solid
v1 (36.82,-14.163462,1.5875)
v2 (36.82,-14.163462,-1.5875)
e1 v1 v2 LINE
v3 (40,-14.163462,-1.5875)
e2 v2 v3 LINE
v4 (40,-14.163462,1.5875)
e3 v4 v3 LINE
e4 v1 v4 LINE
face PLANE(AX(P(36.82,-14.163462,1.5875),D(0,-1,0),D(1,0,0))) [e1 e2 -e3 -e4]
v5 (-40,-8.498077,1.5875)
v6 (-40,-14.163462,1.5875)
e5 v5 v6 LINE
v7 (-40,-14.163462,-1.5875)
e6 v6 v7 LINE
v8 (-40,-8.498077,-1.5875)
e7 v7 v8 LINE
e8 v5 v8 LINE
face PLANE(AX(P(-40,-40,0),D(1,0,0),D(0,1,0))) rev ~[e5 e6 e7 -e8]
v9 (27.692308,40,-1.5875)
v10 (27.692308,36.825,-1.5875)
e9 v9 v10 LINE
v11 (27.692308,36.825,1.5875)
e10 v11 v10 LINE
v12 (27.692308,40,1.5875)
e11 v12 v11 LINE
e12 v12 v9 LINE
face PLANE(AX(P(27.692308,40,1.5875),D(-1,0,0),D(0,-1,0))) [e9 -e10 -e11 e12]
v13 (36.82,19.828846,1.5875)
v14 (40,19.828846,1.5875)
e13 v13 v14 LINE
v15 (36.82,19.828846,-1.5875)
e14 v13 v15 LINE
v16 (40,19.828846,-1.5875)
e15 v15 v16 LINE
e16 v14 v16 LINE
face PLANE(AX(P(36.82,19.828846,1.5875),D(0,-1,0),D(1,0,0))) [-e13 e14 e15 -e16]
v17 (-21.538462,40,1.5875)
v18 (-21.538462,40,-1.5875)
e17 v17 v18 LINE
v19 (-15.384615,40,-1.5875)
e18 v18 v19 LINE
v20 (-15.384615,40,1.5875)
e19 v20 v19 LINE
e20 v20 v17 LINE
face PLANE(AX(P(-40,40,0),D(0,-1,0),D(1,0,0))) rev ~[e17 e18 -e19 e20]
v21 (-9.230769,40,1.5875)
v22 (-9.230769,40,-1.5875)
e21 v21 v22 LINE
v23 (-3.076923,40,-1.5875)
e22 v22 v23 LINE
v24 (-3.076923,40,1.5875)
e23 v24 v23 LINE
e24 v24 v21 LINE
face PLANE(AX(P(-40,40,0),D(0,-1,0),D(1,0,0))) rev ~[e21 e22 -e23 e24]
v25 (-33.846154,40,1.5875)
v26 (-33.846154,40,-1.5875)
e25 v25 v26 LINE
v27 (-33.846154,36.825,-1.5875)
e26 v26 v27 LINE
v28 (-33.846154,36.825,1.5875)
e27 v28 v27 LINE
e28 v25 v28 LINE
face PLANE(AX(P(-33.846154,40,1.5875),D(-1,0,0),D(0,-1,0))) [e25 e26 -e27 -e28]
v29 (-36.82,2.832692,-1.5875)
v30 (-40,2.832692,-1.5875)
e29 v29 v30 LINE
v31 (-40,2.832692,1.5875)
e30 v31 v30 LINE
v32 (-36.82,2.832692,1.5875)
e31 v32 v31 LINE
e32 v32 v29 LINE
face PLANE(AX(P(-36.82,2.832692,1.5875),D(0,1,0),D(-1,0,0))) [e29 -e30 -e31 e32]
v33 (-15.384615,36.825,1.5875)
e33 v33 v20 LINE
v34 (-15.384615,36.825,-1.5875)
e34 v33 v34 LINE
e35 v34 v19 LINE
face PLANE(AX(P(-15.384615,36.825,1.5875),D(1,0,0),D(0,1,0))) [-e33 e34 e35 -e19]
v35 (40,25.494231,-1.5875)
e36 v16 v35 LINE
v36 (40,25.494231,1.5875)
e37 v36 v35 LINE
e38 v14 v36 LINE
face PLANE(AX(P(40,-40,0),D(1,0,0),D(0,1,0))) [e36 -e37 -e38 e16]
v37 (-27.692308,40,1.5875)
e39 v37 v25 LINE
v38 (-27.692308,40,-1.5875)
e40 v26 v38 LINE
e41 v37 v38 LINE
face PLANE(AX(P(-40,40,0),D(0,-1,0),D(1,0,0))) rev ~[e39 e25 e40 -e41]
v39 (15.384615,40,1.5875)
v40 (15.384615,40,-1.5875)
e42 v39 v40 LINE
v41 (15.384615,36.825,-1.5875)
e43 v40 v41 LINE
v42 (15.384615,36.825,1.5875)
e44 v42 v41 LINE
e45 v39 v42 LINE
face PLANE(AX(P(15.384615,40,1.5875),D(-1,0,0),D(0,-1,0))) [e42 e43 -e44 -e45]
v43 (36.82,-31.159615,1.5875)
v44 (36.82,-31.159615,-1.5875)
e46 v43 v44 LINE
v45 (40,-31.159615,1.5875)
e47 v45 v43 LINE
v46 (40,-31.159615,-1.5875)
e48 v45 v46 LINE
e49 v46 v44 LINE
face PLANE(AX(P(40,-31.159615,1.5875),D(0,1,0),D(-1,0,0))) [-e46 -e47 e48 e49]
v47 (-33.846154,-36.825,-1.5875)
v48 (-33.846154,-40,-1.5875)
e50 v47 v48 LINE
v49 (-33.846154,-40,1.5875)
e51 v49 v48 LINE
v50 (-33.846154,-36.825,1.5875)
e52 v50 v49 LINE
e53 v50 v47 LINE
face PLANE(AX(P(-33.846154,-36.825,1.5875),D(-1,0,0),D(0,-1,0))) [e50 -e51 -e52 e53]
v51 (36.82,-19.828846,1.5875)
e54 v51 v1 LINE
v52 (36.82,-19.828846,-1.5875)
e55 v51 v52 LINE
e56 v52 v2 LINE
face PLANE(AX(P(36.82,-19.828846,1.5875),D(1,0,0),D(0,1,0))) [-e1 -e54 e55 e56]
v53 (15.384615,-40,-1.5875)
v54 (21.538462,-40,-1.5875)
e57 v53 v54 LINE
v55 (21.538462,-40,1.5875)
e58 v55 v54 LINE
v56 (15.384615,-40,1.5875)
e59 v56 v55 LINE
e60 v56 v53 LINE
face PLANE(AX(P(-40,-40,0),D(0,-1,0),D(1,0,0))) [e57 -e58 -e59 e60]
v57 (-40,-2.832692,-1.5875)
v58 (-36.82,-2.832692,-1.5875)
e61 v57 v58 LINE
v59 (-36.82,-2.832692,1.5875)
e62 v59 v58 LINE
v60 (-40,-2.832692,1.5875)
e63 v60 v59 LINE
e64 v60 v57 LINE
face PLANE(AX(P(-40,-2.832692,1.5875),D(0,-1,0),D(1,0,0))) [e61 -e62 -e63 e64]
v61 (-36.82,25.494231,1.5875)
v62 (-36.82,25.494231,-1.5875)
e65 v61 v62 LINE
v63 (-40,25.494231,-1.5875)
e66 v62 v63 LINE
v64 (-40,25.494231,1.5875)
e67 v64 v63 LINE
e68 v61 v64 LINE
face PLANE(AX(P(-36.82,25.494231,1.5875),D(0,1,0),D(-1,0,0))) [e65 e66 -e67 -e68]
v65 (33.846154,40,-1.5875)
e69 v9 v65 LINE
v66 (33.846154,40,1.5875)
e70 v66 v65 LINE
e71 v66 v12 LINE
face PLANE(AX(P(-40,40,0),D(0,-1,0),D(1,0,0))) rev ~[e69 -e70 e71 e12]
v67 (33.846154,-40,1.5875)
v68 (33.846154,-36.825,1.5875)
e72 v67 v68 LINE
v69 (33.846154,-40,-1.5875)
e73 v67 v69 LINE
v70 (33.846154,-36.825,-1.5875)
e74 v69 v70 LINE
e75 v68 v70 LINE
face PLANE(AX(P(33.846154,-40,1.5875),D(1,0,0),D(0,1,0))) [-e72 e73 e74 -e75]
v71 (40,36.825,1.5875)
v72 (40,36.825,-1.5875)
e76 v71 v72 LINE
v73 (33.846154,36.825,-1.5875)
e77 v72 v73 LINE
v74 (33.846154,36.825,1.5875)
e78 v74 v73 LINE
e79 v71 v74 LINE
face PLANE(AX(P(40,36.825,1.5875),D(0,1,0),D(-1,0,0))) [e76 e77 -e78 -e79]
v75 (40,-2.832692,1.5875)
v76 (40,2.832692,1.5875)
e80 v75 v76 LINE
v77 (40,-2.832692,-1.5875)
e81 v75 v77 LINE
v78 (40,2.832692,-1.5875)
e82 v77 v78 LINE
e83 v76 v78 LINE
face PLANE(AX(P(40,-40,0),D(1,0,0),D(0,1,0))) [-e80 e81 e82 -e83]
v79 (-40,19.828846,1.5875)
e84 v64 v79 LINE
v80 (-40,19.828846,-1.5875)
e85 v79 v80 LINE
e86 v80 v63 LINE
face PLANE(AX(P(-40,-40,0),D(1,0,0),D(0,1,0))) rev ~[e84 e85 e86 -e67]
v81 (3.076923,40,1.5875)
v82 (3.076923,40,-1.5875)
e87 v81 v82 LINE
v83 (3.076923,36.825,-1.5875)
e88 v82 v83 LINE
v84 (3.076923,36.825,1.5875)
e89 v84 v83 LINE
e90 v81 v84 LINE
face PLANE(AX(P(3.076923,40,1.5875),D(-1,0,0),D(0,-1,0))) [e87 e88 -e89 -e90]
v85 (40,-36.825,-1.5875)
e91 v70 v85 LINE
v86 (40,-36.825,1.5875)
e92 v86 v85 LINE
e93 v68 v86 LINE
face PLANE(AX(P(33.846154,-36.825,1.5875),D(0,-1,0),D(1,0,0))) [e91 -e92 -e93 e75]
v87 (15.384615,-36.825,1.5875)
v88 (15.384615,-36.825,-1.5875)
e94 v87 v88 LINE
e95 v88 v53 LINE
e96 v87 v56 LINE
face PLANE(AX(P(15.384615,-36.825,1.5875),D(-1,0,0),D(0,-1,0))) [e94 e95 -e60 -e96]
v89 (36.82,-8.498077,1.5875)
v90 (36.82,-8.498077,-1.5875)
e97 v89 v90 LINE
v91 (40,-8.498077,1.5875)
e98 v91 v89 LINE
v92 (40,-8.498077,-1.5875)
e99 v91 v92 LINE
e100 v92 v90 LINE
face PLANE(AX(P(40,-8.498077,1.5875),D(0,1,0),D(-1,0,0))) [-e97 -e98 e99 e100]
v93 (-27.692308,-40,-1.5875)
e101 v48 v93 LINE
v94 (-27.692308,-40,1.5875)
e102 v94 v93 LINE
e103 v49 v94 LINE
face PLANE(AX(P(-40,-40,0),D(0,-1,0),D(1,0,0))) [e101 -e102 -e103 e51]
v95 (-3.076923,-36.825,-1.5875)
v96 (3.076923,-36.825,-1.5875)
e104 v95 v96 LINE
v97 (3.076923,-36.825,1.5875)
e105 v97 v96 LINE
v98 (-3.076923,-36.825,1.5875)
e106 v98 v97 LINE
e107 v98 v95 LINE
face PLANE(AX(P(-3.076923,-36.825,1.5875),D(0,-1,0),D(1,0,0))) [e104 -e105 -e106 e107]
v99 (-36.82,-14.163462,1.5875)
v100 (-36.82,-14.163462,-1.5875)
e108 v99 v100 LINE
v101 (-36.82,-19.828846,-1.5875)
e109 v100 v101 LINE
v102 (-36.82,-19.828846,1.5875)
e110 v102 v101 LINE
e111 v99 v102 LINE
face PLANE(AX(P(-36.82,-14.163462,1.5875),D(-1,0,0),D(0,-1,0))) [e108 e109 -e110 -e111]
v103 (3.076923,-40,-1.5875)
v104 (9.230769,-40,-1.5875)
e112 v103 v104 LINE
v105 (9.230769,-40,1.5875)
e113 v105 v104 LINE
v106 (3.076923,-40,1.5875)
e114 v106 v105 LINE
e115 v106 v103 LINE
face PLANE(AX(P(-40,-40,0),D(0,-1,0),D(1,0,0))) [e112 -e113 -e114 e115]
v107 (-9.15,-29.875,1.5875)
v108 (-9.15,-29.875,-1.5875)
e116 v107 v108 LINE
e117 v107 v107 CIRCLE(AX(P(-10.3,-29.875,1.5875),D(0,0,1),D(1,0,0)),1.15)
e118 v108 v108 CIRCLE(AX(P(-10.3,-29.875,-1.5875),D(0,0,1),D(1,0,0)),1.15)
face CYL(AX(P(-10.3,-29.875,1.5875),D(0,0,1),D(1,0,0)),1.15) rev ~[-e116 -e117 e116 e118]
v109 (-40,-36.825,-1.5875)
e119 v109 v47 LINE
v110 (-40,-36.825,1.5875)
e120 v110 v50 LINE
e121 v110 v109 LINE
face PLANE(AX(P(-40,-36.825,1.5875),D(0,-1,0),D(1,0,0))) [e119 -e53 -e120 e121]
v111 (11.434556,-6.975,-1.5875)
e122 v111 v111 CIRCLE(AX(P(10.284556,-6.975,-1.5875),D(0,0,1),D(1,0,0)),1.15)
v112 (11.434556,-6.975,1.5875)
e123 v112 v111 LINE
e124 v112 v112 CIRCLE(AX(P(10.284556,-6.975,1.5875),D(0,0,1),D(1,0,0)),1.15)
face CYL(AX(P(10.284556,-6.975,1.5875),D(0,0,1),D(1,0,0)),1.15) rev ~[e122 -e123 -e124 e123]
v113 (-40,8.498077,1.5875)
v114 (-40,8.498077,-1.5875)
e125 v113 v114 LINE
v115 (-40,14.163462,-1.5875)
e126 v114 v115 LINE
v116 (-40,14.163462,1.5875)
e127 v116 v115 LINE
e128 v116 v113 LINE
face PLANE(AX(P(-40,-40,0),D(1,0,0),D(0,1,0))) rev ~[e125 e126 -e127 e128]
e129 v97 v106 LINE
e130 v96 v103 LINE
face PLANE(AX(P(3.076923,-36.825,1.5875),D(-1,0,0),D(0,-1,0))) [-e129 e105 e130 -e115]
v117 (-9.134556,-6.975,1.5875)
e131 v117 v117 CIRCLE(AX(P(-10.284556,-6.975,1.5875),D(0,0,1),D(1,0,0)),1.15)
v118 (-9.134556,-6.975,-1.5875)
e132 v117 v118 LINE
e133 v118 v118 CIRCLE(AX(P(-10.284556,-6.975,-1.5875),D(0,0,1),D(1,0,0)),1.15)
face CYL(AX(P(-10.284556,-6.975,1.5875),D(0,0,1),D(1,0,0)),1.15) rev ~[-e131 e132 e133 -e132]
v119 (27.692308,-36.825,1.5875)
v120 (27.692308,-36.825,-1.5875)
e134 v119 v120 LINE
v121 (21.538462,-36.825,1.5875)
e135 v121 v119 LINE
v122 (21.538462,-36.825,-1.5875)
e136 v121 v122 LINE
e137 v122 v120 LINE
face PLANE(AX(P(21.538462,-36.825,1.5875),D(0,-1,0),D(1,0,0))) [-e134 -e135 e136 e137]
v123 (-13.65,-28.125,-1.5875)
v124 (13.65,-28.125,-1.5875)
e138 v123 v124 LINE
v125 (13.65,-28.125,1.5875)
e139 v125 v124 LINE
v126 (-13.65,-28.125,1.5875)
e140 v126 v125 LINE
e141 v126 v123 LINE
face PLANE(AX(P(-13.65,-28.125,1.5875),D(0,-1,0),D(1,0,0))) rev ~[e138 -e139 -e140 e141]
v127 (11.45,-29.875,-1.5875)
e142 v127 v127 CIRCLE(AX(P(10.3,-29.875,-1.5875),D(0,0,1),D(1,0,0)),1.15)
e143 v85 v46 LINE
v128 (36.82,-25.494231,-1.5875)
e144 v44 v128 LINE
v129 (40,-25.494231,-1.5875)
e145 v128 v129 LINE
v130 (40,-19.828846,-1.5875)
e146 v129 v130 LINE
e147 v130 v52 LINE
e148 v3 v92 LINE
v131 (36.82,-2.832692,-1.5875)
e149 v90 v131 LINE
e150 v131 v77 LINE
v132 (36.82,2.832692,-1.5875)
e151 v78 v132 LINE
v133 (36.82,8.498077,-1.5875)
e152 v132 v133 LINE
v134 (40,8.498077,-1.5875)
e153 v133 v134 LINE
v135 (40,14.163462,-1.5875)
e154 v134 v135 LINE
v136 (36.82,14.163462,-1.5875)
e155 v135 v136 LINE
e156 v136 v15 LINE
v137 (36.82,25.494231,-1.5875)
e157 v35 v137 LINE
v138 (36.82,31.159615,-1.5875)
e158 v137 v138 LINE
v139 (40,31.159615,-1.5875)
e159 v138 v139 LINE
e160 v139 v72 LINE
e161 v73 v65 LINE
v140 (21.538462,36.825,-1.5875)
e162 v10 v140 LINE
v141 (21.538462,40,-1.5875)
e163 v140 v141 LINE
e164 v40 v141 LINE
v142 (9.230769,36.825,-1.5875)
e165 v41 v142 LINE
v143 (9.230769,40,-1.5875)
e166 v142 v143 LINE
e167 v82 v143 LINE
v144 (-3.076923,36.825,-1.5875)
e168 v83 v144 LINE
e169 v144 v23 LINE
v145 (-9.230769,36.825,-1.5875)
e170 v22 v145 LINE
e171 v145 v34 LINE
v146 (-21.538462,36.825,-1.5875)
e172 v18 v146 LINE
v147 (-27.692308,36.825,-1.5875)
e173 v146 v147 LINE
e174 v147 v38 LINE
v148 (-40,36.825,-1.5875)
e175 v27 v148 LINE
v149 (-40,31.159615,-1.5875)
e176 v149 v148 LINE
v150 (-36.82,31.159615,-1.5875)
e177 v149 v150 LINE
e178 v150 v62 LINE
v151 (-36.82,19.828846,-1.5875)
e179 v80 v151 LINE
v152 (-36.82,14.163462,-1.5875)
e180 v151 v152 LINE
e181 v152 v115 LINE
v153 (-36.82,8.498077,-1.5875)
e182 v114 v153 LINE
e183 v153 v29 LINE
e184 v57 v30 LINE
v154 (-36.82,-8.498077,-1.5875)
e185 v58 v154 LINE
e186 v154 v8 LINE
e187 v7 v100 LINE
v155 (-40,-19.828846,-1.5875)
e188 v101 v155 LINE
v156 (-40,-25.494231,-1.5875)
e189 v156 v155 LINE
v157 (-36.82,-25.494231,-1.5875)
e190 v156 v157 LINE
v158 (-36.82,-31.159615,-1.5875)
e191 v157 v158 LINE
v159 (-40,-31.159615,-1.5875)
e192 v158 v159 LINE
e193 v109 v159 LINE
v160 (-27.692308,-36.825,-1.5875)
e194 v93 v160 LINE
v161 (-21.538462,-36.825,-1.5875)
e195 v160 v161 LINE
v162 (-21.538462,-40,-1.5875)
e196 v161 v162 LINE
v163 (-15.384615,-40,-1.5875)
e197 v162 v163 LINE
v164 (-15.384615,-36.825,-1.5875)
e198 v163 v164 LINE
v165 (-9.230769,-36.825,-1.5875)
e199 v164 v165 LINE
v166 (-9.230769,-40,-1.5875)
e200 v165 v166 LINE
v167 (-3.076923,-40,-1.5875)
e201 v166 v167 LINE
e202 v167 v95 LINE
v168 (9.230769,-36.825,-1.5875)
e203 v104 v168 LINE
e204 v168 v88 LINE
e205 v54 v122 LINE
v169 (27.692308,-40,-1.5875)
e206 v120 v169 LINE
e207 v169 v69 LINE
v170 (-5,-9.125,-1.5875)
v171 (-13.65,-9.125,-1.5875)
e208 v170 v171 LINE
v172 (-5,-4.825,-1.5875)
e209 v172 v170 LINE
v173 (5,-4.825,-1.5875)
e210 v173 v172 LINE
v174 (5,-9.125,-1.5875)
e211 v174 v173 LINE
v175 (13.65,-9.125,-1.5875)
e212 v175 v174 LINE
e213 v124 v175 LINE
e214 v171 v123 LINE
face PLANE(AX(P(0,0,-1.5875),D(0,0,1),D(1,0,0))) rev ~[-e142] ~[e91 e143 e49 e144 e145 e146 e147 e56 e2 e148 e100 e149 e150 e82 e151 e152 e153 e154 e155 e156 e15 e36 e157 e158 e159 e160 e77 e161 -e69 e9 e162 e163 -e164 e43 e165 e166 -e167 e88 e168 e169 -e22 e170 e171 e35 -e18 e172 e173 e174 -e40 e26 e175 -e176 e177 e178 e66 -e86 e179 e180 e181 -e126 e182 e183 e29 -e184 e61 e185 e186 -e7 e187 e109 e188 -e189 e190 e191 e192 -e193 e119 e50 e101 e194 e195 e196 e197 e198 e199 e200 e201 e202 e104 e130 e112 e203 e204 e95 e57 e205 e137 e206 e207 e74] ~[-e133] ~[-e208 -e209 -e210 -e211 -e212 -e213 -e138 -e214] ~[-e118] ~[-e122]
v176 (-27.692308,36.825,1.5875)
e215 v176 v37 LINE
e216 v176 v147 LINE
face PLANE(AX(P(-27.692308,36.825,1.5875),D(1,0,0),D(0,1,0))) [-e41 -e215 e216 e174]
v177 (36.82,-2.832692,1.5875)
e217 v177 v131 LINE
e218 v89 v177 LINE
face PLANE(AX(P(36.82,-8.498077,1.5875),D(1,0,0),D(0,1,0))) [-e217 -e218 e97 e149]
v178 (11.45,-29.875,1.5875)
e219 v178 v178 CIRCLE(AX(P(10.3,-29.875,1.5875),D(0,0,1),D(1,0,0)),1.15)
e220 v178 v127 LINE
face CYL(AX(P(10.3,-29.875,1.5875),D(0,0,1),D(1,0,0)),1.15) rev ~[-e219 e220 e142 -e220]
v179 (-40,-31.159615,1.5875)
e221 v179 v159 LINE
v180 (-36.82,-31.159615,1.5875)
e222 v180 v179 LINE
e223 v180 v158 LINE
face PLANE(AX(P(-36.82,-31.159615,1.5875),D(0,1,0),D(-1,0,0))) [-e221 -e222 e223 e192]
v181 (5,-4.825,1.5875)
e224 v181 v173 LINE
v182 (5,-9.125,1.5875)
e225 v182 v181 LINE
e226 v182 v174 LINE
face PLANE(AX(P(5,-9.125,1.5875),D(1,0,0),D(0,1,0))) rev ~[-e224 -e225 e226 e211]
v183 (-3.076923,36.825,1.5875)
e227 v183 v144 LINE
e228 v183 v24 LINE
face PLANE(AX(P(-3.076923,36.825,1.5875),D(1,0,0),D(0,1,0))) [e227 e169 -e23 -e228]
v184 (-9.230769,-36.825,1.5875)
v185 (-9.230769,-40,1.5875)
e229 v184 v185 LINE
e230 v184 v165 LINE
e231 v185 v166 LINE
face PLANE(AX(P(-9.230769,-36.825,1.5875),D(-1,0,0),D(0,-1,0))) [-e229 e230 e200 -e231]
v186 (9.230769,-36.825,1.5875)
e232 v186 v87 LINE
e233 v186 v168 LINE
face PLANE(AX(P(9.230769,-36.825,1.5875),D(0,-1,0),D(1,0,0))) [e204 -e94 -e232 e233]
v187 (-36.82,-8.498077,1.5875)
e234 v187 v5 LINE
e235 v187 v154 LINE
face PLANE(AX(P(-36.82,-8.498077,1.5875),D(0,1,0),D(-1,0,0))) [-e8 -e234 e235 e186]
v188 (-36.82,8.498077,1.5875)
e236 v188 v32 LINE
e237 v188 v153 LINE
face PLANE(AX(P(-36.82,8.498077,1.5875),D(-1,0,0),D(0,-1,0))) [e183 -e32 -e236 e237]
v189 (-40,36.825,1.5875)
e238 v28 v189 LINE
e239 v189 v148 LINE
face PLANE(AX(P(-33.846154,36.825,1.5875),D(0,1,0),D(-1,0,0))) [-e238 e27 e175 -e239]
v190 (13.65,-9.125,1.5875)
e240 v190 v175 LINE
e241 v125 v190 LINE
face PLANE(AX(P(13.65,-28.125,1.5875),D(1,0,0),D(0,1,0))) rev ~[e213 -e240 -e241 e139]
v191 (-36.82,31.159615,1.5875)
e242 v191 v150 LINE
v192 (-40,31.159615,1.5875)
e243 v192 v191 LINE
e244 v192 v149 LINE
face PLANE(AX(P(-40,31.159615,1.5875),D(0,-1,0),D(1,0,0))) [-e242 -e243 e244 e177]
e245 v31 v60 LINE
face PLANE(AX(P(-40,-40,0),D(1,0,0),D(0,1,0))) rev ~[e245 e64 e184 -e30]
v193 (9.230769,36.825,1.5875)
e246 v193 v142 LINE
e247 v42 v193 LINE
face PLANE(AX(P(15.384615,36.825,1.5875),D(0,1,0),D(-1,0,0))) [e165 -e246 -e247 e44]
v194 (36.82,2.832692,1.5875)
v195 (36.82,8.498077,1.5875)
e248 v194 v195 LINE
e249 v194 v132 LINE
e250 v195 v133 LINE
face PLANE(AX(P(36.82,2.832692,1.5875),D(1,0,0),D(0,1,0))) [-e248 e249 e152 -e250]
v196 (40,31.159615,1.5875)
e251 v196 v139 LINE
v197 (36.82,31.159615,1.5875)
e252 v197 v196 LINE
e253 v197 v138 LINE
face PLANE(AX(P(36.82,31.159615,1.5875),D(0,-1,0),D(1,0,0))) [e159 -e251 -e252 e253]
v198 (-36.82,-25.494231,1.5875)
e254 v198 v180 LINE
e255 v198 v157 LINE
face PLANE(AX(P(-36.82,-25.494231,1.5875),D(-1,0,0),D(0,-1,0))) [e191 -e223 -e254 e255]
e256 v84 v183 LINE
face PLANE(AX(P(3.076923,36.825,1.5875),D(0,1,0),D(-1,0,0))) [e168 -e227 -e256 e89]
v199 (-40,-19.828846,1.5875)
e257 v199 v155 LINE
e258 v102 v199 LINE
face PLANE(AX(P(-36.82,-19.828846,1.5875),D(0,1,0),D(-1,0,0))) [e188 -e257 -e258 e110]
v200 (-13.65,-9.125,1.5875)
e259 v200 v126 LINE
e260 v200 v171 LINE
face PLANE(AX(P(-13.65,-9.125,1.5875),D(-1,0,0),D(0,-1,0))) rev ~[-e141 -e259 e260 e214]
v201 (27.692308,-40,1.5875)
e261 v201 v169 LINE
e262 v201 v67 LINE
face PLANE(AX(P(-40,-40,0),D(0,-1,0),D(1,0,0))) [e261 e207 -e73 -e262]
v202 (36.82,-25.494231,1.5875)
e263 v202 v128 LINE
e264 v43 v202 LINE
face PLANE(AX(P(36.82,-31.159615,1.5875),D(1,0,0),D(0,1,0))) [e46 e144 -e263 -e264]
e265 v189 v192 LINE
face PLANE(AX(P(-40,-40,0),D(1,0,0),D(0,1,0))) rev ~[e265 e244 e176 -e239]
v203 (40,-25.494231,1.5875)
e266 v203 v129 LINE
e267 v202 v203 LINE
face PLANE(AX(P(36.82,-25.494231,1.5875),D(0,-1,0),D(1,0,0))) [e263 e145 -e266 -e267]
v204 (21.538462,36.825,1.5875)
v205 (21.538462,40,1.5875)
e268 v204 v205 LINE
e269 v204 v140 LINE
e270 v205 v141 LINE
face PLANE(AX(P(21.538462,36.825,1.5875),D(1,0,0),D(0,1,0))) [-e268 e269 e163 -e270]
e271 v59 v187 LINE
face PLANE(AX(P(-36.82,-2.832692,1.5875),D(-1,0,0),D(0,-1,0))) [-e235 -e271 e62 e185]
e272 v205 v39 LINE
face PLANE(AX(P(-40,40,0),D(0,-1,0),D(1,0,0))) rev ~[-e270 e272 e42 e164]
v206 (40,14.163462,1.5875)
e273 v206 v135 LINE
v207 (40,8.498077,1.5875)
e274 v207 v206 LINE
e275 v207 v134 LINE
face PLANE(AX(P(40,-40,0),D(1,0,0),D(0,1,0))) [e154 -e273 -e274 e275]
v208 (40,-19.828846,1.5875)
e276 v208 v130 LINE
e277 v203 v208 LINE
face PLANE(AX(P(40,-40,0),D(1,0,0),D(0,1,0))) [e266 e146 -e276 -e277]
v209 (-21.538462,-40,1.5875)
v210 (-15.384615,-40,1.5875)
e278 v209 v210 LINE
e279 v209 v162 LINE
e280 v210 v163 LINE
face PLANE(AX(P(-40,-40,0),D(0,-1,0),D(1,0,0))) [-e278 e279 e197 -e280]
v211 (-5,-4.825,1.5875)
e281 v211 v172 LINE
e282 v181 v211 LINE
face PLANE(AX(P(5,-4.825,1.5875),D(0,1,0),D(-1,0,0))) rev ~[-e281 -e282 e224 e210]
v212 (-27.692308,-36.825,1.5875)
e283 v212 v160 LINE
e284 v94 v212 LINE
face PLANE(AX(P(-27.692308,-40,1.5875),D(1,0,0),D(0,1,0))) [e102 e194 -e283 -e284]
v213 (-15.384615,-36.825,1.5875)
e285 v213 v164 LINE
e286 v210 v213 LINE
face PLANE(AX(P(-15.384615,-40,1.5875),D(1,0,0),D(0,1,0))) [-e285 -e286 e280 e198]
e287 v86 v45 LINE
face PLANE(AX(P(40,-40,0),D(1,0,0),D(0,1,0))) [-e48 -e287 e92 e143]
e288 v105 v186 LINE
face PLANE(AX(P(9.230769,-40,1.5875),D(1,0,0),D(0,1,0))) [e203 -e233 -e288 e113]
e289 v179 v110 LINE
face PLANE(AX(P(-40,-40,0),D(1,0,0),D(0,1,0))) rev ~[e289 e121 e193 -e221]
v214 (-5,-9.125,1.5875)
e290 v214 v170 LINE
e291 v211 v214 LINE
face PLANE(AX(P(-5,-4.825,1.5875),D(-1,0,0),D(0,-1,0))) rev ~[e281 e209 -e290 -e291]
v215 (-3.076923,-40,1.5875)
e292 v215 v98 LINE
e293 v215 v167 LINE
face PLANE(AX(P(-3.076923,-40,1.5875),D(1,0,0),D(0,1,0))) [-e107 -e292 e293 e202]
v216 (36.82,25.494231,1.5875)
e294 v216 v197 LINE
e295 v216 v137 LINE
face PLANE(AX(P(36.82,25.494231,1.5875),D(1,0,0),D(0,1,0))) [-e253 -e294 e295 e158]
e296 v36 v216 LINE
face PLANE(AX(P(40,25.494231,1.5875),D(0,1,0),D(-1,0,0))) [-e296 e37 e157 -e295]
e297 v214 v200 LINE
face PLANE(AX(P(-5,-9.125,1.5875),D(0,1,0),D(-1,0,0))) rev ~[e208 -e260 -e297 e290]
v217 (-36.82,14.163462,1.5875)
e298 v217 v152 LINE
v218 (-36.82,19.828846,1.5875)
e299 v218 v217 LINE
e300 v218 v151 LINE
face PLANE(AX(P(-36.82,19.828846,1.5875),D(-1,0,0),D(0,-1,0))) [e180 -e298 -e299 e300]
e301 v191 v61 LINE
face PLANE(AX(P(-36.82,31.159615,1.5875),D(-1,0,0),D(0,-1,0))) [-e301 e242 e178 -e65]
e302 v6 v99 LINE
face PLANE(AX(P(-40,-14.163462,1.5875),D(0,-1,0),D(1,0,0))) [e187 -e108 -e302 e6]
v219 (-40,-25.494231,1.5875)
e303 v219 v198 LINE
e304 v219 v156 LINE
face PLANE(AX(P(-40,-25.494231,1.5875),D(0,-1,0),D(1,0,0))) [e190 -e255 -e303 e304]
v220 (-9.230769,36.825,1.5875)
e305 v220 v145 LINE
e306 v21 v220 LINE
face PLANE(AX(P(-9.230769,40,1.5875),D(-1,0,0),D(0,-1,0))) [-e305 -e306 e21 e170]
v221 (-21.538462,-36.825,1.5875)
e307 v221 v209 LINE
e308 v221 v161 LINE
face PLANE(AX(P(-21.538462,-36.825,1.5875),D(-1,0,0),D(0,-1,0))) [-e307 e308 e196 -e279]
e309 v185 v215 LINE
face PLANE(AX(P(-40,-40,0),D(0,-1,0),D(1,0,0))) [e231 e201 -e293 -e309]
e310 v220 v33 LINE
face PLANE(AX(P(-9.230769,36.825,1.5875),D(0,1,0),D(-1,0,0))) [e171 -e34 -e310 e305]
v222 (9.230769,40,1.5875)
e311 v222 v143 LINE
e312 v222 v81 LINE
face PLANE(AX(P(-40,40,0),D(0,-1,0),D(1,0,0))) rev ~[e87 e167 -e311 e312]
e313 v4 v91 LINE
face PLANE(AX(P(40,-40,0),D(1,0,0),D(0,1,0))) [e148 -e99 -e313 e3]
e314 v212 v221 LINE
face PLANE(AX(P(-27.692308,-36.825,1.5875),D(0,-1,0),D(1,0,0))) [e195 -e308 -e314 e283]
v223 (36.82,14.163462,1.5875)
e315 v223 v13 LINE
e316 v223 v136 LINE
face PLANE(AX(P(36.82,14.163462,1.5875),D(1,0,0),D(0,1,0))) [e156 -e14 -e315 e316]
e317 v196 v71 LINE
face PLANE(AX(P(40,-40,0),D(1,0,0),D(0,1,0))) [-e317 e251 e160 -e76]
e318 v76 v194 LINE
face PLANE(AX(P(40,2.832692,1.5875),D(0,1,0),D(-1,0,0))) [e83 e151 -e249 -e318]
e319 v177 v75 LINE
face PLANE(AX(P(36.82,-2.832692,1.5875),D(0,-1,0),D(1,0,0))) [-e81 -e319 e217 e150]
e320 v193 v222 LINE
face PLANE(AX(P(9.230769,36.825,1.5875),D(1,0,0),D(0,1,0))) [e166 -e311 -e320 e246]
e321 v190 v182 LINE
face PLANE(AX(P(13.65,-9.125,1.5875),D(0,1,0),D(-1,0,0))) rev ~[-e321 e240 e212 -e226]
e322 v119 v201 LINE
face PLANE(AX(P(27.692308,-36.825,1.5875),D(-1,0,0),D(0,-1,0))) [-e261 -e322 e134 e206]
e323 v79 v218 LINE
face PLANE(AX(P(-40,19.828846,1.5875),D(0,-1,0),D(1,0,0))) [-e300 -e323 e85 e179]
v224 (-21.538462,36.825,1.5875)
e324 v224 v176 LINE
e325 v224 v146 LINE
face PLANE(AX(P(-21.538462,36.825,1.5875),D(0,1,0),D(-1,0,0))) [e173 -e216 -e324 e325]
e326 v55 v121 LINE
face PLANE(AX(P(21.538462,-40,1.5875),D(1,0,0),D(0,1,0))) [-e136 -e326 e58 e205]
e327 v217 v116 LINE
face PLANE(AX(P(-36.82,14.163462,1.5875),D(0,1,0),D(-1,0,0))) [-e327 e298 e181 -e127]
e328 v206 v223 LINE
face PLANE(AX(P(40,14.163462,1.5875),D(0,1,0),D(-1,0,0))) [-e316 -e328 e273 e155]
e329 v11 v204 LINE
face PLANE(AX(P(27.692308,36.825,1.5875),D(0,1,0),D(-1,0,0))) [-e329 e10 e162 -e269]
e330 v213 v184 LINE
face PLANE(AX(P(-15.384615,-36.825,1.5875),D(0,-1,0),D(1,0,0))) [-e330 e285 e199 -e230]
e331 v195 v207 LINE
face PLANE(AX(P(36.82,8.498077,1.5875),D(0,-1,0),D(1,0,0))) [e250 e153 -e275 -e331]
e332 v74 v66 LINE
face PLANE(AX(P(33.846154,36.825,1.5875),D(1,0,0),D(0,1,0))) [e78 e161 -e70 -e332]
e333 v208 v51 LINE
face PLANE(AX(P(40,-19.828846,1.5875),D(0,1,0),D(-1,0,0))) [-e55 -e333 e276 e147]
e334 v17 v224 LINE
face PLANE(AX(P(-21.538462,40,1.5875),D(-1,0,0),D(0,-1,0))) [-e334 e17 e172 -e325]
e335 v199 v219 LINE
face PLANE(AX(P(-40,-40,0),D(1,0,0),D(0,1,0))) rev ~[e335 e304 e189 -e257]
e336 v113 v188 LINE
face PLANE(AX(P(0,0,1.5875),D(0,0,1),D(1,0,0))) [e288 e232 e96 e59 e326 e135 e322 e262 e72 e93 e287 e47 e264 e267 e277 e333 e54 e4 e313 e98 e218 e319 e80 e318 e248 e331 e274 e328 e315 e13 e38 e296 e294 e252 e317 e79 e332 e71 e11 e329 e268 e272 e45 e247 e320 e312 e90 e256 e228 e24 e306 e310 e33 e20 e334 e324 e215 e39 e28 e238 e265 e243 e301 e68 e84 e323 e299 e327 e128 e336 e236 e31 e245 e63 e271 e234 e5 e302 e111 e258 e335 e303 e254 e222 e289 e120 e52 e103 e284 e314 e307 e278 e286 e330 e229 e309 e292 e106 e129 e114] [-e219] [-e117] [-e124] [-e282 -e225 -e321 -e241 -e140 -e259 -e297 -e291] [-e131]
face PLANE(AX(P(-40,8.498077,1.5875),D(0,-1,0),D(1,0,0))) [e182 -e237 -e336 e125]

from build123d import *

# Parameters (mm, degrees)
SKETCH1_W           = 80
SKETCH1_H           = 80
BOSS_EXTRUDE1_DEPTH = 1.5875
SKETCH2_OUTSIDE_W   = 104.636
SKETCH2_OUTSIDE_H   = 104.636
CUT_EXTRUDE2_DEPTH  = 10
SKETCH3_R           = 1.15
CUT_EXTRUDE3_DEPTH  = 57.657573413


with BuildPart() as part:
    # Sketch1 → Boss-Extrude1 (new, symmetric)
    with BuildSketch(Plane.XY):
        Rectangle(SKETCH1_W, SKETCH1_H)
    extrude(amount=BOSS_EXTRUDE1_DEPTH, both=True)

    # Sketch2 outside → Cut-Extrude2 (cut)
    with BuildSketch(Plane.XY.offset(1.5875)):
        Rectangle(SKETCH2_OUTSIDE_W, SKETCH2_OUTSIDE_H)
        Polygon((33.846153846, -36.825), (40, -36.825), (40, -31.159615385), (36.82, -31.159615385), (36.82, -25.494230769), (40, -25.494230769), (40, -19.828846154), (36.82, -19.828846154), (36.82, -14.163461538), (40, -14.163461538), (40, -8.498076923), (36.82, -8.498076923), (36.82, -2.832692308), (40, -2.832692308), (40, 2.832692308), (36.82, 2.832692308), (36.82, 8.498076923), (40, 8.498076923), (40, 14.163461538), (36.82, 14.163461538), (36.82, 19.828846154), (40, 19.828846154), (40, 25.494230769), (36.82, 25.494230769), (36.82, 31.159615385), (40, 31.159615385), (40, 36.825), (33.846153846, 36.825), (33.846153846, 40), (27.692307692, 40), (27.692307692, 36.825), (21.538461538, 36.825), (21.538461538, 40), (15.384615385, 40), (15.384615385, 36.825), (9.230769231, 36.825), (9.230769231, 40), (3.076923077, 40), (3.076923077, 36.825), (-3.076923077, 36.825), (-3.076923077, 40), (-9.230769231, 40), (-9.230769231, 36.825), (-15.384615385, 36.825), (-15.384615385, 40), (-21.538461538, 40), (-21.538461538, 36.825), (-27.692307692, 36.825), (-27.692307692, 40), (-33.846153846, 40), (-33.846153846, 36.825), (-40, 36.825), (-40, 31.159615385), (-36.82, 31.159615385), (-36.82, 25.494230769), (-40, 25.494230769), (-40, 19.828846154), (-36.82, 19.828846154), (-36.82, 14.163461538), (-40, 14.163461538), (-40, 8.498076923), (-36.82, 8.498076923), (-36.82, 2.832692308), (-40, 2.832692308), (-40, -2.832692308), (-36.82, -2.832692308), (-36.82, -8.498076923), (-40, -8.498076923), (-40, -14.163461538), (-36.82, -14.163461538), (-36.82, -19.828846154), (-40, -19.828846154), (-40, -25.494230769), (-36.82, -25.494230769), (-36.82, -31.159615385), (-40, -31.159615385), (-40, -36.825), (-33.846153846, -36.825), (-33.846153846, -40), (-27.692307692, -40), (-27.692307692, -36.825), (-21.538461538, -36.825), (-21.538461538, -40), (-15.384615385, -40), (-15.384615385, -36.825), (-9.230769231, -36.825), (-9.230769231, -40), (-3.076923077, -40), (-3.076923077, -36.825), (3.076923077, -36.825), (3.076923077, -40), (9.230769231, -40), (9.230769231, -36.825), (15.384615385, -36.825), (15.384615385, -40), (21.538461538, -40), (21.538461538, -36.825), (27.692307692, -36.825), (27.692307692, -40), (33.846153846, -40), align=None, mode=Mode.SUBTRACT)
    extrude(amount=-CUT_EXTRUDE2_DEPTH, mode=Mode.SUBTRACT)

    # Sketch3 → Cut-Extrude3 (cut, through all)
    with BuildSketch(Plane.XY.offset(1.5875)):
        Polygon((-13.65, -9.125), (-13.65, -28.125), (13.65, -28.125), (13.65, -9.125), (5, -9.125), (5, -4.825), (-5, -4.825), (-5, -9.125), align=None)
        with Locations((-10.284555817, -6.975)):
            Circle(SKETCH3_R)
        with Locations((10.284555817, -6.975)):
            Circle(SKETCH3_R)
        with Locations((-10.3, -29.875)):
            Circle(SKETCH3_R)
        with Locations((10.3, -29.875)):
            Circle(SKETCH3_R)
    extrude(amount=-CUT_EXTRUDE3_DEPTH, mode=Mode.SUBTRACT)


solid = part.part
